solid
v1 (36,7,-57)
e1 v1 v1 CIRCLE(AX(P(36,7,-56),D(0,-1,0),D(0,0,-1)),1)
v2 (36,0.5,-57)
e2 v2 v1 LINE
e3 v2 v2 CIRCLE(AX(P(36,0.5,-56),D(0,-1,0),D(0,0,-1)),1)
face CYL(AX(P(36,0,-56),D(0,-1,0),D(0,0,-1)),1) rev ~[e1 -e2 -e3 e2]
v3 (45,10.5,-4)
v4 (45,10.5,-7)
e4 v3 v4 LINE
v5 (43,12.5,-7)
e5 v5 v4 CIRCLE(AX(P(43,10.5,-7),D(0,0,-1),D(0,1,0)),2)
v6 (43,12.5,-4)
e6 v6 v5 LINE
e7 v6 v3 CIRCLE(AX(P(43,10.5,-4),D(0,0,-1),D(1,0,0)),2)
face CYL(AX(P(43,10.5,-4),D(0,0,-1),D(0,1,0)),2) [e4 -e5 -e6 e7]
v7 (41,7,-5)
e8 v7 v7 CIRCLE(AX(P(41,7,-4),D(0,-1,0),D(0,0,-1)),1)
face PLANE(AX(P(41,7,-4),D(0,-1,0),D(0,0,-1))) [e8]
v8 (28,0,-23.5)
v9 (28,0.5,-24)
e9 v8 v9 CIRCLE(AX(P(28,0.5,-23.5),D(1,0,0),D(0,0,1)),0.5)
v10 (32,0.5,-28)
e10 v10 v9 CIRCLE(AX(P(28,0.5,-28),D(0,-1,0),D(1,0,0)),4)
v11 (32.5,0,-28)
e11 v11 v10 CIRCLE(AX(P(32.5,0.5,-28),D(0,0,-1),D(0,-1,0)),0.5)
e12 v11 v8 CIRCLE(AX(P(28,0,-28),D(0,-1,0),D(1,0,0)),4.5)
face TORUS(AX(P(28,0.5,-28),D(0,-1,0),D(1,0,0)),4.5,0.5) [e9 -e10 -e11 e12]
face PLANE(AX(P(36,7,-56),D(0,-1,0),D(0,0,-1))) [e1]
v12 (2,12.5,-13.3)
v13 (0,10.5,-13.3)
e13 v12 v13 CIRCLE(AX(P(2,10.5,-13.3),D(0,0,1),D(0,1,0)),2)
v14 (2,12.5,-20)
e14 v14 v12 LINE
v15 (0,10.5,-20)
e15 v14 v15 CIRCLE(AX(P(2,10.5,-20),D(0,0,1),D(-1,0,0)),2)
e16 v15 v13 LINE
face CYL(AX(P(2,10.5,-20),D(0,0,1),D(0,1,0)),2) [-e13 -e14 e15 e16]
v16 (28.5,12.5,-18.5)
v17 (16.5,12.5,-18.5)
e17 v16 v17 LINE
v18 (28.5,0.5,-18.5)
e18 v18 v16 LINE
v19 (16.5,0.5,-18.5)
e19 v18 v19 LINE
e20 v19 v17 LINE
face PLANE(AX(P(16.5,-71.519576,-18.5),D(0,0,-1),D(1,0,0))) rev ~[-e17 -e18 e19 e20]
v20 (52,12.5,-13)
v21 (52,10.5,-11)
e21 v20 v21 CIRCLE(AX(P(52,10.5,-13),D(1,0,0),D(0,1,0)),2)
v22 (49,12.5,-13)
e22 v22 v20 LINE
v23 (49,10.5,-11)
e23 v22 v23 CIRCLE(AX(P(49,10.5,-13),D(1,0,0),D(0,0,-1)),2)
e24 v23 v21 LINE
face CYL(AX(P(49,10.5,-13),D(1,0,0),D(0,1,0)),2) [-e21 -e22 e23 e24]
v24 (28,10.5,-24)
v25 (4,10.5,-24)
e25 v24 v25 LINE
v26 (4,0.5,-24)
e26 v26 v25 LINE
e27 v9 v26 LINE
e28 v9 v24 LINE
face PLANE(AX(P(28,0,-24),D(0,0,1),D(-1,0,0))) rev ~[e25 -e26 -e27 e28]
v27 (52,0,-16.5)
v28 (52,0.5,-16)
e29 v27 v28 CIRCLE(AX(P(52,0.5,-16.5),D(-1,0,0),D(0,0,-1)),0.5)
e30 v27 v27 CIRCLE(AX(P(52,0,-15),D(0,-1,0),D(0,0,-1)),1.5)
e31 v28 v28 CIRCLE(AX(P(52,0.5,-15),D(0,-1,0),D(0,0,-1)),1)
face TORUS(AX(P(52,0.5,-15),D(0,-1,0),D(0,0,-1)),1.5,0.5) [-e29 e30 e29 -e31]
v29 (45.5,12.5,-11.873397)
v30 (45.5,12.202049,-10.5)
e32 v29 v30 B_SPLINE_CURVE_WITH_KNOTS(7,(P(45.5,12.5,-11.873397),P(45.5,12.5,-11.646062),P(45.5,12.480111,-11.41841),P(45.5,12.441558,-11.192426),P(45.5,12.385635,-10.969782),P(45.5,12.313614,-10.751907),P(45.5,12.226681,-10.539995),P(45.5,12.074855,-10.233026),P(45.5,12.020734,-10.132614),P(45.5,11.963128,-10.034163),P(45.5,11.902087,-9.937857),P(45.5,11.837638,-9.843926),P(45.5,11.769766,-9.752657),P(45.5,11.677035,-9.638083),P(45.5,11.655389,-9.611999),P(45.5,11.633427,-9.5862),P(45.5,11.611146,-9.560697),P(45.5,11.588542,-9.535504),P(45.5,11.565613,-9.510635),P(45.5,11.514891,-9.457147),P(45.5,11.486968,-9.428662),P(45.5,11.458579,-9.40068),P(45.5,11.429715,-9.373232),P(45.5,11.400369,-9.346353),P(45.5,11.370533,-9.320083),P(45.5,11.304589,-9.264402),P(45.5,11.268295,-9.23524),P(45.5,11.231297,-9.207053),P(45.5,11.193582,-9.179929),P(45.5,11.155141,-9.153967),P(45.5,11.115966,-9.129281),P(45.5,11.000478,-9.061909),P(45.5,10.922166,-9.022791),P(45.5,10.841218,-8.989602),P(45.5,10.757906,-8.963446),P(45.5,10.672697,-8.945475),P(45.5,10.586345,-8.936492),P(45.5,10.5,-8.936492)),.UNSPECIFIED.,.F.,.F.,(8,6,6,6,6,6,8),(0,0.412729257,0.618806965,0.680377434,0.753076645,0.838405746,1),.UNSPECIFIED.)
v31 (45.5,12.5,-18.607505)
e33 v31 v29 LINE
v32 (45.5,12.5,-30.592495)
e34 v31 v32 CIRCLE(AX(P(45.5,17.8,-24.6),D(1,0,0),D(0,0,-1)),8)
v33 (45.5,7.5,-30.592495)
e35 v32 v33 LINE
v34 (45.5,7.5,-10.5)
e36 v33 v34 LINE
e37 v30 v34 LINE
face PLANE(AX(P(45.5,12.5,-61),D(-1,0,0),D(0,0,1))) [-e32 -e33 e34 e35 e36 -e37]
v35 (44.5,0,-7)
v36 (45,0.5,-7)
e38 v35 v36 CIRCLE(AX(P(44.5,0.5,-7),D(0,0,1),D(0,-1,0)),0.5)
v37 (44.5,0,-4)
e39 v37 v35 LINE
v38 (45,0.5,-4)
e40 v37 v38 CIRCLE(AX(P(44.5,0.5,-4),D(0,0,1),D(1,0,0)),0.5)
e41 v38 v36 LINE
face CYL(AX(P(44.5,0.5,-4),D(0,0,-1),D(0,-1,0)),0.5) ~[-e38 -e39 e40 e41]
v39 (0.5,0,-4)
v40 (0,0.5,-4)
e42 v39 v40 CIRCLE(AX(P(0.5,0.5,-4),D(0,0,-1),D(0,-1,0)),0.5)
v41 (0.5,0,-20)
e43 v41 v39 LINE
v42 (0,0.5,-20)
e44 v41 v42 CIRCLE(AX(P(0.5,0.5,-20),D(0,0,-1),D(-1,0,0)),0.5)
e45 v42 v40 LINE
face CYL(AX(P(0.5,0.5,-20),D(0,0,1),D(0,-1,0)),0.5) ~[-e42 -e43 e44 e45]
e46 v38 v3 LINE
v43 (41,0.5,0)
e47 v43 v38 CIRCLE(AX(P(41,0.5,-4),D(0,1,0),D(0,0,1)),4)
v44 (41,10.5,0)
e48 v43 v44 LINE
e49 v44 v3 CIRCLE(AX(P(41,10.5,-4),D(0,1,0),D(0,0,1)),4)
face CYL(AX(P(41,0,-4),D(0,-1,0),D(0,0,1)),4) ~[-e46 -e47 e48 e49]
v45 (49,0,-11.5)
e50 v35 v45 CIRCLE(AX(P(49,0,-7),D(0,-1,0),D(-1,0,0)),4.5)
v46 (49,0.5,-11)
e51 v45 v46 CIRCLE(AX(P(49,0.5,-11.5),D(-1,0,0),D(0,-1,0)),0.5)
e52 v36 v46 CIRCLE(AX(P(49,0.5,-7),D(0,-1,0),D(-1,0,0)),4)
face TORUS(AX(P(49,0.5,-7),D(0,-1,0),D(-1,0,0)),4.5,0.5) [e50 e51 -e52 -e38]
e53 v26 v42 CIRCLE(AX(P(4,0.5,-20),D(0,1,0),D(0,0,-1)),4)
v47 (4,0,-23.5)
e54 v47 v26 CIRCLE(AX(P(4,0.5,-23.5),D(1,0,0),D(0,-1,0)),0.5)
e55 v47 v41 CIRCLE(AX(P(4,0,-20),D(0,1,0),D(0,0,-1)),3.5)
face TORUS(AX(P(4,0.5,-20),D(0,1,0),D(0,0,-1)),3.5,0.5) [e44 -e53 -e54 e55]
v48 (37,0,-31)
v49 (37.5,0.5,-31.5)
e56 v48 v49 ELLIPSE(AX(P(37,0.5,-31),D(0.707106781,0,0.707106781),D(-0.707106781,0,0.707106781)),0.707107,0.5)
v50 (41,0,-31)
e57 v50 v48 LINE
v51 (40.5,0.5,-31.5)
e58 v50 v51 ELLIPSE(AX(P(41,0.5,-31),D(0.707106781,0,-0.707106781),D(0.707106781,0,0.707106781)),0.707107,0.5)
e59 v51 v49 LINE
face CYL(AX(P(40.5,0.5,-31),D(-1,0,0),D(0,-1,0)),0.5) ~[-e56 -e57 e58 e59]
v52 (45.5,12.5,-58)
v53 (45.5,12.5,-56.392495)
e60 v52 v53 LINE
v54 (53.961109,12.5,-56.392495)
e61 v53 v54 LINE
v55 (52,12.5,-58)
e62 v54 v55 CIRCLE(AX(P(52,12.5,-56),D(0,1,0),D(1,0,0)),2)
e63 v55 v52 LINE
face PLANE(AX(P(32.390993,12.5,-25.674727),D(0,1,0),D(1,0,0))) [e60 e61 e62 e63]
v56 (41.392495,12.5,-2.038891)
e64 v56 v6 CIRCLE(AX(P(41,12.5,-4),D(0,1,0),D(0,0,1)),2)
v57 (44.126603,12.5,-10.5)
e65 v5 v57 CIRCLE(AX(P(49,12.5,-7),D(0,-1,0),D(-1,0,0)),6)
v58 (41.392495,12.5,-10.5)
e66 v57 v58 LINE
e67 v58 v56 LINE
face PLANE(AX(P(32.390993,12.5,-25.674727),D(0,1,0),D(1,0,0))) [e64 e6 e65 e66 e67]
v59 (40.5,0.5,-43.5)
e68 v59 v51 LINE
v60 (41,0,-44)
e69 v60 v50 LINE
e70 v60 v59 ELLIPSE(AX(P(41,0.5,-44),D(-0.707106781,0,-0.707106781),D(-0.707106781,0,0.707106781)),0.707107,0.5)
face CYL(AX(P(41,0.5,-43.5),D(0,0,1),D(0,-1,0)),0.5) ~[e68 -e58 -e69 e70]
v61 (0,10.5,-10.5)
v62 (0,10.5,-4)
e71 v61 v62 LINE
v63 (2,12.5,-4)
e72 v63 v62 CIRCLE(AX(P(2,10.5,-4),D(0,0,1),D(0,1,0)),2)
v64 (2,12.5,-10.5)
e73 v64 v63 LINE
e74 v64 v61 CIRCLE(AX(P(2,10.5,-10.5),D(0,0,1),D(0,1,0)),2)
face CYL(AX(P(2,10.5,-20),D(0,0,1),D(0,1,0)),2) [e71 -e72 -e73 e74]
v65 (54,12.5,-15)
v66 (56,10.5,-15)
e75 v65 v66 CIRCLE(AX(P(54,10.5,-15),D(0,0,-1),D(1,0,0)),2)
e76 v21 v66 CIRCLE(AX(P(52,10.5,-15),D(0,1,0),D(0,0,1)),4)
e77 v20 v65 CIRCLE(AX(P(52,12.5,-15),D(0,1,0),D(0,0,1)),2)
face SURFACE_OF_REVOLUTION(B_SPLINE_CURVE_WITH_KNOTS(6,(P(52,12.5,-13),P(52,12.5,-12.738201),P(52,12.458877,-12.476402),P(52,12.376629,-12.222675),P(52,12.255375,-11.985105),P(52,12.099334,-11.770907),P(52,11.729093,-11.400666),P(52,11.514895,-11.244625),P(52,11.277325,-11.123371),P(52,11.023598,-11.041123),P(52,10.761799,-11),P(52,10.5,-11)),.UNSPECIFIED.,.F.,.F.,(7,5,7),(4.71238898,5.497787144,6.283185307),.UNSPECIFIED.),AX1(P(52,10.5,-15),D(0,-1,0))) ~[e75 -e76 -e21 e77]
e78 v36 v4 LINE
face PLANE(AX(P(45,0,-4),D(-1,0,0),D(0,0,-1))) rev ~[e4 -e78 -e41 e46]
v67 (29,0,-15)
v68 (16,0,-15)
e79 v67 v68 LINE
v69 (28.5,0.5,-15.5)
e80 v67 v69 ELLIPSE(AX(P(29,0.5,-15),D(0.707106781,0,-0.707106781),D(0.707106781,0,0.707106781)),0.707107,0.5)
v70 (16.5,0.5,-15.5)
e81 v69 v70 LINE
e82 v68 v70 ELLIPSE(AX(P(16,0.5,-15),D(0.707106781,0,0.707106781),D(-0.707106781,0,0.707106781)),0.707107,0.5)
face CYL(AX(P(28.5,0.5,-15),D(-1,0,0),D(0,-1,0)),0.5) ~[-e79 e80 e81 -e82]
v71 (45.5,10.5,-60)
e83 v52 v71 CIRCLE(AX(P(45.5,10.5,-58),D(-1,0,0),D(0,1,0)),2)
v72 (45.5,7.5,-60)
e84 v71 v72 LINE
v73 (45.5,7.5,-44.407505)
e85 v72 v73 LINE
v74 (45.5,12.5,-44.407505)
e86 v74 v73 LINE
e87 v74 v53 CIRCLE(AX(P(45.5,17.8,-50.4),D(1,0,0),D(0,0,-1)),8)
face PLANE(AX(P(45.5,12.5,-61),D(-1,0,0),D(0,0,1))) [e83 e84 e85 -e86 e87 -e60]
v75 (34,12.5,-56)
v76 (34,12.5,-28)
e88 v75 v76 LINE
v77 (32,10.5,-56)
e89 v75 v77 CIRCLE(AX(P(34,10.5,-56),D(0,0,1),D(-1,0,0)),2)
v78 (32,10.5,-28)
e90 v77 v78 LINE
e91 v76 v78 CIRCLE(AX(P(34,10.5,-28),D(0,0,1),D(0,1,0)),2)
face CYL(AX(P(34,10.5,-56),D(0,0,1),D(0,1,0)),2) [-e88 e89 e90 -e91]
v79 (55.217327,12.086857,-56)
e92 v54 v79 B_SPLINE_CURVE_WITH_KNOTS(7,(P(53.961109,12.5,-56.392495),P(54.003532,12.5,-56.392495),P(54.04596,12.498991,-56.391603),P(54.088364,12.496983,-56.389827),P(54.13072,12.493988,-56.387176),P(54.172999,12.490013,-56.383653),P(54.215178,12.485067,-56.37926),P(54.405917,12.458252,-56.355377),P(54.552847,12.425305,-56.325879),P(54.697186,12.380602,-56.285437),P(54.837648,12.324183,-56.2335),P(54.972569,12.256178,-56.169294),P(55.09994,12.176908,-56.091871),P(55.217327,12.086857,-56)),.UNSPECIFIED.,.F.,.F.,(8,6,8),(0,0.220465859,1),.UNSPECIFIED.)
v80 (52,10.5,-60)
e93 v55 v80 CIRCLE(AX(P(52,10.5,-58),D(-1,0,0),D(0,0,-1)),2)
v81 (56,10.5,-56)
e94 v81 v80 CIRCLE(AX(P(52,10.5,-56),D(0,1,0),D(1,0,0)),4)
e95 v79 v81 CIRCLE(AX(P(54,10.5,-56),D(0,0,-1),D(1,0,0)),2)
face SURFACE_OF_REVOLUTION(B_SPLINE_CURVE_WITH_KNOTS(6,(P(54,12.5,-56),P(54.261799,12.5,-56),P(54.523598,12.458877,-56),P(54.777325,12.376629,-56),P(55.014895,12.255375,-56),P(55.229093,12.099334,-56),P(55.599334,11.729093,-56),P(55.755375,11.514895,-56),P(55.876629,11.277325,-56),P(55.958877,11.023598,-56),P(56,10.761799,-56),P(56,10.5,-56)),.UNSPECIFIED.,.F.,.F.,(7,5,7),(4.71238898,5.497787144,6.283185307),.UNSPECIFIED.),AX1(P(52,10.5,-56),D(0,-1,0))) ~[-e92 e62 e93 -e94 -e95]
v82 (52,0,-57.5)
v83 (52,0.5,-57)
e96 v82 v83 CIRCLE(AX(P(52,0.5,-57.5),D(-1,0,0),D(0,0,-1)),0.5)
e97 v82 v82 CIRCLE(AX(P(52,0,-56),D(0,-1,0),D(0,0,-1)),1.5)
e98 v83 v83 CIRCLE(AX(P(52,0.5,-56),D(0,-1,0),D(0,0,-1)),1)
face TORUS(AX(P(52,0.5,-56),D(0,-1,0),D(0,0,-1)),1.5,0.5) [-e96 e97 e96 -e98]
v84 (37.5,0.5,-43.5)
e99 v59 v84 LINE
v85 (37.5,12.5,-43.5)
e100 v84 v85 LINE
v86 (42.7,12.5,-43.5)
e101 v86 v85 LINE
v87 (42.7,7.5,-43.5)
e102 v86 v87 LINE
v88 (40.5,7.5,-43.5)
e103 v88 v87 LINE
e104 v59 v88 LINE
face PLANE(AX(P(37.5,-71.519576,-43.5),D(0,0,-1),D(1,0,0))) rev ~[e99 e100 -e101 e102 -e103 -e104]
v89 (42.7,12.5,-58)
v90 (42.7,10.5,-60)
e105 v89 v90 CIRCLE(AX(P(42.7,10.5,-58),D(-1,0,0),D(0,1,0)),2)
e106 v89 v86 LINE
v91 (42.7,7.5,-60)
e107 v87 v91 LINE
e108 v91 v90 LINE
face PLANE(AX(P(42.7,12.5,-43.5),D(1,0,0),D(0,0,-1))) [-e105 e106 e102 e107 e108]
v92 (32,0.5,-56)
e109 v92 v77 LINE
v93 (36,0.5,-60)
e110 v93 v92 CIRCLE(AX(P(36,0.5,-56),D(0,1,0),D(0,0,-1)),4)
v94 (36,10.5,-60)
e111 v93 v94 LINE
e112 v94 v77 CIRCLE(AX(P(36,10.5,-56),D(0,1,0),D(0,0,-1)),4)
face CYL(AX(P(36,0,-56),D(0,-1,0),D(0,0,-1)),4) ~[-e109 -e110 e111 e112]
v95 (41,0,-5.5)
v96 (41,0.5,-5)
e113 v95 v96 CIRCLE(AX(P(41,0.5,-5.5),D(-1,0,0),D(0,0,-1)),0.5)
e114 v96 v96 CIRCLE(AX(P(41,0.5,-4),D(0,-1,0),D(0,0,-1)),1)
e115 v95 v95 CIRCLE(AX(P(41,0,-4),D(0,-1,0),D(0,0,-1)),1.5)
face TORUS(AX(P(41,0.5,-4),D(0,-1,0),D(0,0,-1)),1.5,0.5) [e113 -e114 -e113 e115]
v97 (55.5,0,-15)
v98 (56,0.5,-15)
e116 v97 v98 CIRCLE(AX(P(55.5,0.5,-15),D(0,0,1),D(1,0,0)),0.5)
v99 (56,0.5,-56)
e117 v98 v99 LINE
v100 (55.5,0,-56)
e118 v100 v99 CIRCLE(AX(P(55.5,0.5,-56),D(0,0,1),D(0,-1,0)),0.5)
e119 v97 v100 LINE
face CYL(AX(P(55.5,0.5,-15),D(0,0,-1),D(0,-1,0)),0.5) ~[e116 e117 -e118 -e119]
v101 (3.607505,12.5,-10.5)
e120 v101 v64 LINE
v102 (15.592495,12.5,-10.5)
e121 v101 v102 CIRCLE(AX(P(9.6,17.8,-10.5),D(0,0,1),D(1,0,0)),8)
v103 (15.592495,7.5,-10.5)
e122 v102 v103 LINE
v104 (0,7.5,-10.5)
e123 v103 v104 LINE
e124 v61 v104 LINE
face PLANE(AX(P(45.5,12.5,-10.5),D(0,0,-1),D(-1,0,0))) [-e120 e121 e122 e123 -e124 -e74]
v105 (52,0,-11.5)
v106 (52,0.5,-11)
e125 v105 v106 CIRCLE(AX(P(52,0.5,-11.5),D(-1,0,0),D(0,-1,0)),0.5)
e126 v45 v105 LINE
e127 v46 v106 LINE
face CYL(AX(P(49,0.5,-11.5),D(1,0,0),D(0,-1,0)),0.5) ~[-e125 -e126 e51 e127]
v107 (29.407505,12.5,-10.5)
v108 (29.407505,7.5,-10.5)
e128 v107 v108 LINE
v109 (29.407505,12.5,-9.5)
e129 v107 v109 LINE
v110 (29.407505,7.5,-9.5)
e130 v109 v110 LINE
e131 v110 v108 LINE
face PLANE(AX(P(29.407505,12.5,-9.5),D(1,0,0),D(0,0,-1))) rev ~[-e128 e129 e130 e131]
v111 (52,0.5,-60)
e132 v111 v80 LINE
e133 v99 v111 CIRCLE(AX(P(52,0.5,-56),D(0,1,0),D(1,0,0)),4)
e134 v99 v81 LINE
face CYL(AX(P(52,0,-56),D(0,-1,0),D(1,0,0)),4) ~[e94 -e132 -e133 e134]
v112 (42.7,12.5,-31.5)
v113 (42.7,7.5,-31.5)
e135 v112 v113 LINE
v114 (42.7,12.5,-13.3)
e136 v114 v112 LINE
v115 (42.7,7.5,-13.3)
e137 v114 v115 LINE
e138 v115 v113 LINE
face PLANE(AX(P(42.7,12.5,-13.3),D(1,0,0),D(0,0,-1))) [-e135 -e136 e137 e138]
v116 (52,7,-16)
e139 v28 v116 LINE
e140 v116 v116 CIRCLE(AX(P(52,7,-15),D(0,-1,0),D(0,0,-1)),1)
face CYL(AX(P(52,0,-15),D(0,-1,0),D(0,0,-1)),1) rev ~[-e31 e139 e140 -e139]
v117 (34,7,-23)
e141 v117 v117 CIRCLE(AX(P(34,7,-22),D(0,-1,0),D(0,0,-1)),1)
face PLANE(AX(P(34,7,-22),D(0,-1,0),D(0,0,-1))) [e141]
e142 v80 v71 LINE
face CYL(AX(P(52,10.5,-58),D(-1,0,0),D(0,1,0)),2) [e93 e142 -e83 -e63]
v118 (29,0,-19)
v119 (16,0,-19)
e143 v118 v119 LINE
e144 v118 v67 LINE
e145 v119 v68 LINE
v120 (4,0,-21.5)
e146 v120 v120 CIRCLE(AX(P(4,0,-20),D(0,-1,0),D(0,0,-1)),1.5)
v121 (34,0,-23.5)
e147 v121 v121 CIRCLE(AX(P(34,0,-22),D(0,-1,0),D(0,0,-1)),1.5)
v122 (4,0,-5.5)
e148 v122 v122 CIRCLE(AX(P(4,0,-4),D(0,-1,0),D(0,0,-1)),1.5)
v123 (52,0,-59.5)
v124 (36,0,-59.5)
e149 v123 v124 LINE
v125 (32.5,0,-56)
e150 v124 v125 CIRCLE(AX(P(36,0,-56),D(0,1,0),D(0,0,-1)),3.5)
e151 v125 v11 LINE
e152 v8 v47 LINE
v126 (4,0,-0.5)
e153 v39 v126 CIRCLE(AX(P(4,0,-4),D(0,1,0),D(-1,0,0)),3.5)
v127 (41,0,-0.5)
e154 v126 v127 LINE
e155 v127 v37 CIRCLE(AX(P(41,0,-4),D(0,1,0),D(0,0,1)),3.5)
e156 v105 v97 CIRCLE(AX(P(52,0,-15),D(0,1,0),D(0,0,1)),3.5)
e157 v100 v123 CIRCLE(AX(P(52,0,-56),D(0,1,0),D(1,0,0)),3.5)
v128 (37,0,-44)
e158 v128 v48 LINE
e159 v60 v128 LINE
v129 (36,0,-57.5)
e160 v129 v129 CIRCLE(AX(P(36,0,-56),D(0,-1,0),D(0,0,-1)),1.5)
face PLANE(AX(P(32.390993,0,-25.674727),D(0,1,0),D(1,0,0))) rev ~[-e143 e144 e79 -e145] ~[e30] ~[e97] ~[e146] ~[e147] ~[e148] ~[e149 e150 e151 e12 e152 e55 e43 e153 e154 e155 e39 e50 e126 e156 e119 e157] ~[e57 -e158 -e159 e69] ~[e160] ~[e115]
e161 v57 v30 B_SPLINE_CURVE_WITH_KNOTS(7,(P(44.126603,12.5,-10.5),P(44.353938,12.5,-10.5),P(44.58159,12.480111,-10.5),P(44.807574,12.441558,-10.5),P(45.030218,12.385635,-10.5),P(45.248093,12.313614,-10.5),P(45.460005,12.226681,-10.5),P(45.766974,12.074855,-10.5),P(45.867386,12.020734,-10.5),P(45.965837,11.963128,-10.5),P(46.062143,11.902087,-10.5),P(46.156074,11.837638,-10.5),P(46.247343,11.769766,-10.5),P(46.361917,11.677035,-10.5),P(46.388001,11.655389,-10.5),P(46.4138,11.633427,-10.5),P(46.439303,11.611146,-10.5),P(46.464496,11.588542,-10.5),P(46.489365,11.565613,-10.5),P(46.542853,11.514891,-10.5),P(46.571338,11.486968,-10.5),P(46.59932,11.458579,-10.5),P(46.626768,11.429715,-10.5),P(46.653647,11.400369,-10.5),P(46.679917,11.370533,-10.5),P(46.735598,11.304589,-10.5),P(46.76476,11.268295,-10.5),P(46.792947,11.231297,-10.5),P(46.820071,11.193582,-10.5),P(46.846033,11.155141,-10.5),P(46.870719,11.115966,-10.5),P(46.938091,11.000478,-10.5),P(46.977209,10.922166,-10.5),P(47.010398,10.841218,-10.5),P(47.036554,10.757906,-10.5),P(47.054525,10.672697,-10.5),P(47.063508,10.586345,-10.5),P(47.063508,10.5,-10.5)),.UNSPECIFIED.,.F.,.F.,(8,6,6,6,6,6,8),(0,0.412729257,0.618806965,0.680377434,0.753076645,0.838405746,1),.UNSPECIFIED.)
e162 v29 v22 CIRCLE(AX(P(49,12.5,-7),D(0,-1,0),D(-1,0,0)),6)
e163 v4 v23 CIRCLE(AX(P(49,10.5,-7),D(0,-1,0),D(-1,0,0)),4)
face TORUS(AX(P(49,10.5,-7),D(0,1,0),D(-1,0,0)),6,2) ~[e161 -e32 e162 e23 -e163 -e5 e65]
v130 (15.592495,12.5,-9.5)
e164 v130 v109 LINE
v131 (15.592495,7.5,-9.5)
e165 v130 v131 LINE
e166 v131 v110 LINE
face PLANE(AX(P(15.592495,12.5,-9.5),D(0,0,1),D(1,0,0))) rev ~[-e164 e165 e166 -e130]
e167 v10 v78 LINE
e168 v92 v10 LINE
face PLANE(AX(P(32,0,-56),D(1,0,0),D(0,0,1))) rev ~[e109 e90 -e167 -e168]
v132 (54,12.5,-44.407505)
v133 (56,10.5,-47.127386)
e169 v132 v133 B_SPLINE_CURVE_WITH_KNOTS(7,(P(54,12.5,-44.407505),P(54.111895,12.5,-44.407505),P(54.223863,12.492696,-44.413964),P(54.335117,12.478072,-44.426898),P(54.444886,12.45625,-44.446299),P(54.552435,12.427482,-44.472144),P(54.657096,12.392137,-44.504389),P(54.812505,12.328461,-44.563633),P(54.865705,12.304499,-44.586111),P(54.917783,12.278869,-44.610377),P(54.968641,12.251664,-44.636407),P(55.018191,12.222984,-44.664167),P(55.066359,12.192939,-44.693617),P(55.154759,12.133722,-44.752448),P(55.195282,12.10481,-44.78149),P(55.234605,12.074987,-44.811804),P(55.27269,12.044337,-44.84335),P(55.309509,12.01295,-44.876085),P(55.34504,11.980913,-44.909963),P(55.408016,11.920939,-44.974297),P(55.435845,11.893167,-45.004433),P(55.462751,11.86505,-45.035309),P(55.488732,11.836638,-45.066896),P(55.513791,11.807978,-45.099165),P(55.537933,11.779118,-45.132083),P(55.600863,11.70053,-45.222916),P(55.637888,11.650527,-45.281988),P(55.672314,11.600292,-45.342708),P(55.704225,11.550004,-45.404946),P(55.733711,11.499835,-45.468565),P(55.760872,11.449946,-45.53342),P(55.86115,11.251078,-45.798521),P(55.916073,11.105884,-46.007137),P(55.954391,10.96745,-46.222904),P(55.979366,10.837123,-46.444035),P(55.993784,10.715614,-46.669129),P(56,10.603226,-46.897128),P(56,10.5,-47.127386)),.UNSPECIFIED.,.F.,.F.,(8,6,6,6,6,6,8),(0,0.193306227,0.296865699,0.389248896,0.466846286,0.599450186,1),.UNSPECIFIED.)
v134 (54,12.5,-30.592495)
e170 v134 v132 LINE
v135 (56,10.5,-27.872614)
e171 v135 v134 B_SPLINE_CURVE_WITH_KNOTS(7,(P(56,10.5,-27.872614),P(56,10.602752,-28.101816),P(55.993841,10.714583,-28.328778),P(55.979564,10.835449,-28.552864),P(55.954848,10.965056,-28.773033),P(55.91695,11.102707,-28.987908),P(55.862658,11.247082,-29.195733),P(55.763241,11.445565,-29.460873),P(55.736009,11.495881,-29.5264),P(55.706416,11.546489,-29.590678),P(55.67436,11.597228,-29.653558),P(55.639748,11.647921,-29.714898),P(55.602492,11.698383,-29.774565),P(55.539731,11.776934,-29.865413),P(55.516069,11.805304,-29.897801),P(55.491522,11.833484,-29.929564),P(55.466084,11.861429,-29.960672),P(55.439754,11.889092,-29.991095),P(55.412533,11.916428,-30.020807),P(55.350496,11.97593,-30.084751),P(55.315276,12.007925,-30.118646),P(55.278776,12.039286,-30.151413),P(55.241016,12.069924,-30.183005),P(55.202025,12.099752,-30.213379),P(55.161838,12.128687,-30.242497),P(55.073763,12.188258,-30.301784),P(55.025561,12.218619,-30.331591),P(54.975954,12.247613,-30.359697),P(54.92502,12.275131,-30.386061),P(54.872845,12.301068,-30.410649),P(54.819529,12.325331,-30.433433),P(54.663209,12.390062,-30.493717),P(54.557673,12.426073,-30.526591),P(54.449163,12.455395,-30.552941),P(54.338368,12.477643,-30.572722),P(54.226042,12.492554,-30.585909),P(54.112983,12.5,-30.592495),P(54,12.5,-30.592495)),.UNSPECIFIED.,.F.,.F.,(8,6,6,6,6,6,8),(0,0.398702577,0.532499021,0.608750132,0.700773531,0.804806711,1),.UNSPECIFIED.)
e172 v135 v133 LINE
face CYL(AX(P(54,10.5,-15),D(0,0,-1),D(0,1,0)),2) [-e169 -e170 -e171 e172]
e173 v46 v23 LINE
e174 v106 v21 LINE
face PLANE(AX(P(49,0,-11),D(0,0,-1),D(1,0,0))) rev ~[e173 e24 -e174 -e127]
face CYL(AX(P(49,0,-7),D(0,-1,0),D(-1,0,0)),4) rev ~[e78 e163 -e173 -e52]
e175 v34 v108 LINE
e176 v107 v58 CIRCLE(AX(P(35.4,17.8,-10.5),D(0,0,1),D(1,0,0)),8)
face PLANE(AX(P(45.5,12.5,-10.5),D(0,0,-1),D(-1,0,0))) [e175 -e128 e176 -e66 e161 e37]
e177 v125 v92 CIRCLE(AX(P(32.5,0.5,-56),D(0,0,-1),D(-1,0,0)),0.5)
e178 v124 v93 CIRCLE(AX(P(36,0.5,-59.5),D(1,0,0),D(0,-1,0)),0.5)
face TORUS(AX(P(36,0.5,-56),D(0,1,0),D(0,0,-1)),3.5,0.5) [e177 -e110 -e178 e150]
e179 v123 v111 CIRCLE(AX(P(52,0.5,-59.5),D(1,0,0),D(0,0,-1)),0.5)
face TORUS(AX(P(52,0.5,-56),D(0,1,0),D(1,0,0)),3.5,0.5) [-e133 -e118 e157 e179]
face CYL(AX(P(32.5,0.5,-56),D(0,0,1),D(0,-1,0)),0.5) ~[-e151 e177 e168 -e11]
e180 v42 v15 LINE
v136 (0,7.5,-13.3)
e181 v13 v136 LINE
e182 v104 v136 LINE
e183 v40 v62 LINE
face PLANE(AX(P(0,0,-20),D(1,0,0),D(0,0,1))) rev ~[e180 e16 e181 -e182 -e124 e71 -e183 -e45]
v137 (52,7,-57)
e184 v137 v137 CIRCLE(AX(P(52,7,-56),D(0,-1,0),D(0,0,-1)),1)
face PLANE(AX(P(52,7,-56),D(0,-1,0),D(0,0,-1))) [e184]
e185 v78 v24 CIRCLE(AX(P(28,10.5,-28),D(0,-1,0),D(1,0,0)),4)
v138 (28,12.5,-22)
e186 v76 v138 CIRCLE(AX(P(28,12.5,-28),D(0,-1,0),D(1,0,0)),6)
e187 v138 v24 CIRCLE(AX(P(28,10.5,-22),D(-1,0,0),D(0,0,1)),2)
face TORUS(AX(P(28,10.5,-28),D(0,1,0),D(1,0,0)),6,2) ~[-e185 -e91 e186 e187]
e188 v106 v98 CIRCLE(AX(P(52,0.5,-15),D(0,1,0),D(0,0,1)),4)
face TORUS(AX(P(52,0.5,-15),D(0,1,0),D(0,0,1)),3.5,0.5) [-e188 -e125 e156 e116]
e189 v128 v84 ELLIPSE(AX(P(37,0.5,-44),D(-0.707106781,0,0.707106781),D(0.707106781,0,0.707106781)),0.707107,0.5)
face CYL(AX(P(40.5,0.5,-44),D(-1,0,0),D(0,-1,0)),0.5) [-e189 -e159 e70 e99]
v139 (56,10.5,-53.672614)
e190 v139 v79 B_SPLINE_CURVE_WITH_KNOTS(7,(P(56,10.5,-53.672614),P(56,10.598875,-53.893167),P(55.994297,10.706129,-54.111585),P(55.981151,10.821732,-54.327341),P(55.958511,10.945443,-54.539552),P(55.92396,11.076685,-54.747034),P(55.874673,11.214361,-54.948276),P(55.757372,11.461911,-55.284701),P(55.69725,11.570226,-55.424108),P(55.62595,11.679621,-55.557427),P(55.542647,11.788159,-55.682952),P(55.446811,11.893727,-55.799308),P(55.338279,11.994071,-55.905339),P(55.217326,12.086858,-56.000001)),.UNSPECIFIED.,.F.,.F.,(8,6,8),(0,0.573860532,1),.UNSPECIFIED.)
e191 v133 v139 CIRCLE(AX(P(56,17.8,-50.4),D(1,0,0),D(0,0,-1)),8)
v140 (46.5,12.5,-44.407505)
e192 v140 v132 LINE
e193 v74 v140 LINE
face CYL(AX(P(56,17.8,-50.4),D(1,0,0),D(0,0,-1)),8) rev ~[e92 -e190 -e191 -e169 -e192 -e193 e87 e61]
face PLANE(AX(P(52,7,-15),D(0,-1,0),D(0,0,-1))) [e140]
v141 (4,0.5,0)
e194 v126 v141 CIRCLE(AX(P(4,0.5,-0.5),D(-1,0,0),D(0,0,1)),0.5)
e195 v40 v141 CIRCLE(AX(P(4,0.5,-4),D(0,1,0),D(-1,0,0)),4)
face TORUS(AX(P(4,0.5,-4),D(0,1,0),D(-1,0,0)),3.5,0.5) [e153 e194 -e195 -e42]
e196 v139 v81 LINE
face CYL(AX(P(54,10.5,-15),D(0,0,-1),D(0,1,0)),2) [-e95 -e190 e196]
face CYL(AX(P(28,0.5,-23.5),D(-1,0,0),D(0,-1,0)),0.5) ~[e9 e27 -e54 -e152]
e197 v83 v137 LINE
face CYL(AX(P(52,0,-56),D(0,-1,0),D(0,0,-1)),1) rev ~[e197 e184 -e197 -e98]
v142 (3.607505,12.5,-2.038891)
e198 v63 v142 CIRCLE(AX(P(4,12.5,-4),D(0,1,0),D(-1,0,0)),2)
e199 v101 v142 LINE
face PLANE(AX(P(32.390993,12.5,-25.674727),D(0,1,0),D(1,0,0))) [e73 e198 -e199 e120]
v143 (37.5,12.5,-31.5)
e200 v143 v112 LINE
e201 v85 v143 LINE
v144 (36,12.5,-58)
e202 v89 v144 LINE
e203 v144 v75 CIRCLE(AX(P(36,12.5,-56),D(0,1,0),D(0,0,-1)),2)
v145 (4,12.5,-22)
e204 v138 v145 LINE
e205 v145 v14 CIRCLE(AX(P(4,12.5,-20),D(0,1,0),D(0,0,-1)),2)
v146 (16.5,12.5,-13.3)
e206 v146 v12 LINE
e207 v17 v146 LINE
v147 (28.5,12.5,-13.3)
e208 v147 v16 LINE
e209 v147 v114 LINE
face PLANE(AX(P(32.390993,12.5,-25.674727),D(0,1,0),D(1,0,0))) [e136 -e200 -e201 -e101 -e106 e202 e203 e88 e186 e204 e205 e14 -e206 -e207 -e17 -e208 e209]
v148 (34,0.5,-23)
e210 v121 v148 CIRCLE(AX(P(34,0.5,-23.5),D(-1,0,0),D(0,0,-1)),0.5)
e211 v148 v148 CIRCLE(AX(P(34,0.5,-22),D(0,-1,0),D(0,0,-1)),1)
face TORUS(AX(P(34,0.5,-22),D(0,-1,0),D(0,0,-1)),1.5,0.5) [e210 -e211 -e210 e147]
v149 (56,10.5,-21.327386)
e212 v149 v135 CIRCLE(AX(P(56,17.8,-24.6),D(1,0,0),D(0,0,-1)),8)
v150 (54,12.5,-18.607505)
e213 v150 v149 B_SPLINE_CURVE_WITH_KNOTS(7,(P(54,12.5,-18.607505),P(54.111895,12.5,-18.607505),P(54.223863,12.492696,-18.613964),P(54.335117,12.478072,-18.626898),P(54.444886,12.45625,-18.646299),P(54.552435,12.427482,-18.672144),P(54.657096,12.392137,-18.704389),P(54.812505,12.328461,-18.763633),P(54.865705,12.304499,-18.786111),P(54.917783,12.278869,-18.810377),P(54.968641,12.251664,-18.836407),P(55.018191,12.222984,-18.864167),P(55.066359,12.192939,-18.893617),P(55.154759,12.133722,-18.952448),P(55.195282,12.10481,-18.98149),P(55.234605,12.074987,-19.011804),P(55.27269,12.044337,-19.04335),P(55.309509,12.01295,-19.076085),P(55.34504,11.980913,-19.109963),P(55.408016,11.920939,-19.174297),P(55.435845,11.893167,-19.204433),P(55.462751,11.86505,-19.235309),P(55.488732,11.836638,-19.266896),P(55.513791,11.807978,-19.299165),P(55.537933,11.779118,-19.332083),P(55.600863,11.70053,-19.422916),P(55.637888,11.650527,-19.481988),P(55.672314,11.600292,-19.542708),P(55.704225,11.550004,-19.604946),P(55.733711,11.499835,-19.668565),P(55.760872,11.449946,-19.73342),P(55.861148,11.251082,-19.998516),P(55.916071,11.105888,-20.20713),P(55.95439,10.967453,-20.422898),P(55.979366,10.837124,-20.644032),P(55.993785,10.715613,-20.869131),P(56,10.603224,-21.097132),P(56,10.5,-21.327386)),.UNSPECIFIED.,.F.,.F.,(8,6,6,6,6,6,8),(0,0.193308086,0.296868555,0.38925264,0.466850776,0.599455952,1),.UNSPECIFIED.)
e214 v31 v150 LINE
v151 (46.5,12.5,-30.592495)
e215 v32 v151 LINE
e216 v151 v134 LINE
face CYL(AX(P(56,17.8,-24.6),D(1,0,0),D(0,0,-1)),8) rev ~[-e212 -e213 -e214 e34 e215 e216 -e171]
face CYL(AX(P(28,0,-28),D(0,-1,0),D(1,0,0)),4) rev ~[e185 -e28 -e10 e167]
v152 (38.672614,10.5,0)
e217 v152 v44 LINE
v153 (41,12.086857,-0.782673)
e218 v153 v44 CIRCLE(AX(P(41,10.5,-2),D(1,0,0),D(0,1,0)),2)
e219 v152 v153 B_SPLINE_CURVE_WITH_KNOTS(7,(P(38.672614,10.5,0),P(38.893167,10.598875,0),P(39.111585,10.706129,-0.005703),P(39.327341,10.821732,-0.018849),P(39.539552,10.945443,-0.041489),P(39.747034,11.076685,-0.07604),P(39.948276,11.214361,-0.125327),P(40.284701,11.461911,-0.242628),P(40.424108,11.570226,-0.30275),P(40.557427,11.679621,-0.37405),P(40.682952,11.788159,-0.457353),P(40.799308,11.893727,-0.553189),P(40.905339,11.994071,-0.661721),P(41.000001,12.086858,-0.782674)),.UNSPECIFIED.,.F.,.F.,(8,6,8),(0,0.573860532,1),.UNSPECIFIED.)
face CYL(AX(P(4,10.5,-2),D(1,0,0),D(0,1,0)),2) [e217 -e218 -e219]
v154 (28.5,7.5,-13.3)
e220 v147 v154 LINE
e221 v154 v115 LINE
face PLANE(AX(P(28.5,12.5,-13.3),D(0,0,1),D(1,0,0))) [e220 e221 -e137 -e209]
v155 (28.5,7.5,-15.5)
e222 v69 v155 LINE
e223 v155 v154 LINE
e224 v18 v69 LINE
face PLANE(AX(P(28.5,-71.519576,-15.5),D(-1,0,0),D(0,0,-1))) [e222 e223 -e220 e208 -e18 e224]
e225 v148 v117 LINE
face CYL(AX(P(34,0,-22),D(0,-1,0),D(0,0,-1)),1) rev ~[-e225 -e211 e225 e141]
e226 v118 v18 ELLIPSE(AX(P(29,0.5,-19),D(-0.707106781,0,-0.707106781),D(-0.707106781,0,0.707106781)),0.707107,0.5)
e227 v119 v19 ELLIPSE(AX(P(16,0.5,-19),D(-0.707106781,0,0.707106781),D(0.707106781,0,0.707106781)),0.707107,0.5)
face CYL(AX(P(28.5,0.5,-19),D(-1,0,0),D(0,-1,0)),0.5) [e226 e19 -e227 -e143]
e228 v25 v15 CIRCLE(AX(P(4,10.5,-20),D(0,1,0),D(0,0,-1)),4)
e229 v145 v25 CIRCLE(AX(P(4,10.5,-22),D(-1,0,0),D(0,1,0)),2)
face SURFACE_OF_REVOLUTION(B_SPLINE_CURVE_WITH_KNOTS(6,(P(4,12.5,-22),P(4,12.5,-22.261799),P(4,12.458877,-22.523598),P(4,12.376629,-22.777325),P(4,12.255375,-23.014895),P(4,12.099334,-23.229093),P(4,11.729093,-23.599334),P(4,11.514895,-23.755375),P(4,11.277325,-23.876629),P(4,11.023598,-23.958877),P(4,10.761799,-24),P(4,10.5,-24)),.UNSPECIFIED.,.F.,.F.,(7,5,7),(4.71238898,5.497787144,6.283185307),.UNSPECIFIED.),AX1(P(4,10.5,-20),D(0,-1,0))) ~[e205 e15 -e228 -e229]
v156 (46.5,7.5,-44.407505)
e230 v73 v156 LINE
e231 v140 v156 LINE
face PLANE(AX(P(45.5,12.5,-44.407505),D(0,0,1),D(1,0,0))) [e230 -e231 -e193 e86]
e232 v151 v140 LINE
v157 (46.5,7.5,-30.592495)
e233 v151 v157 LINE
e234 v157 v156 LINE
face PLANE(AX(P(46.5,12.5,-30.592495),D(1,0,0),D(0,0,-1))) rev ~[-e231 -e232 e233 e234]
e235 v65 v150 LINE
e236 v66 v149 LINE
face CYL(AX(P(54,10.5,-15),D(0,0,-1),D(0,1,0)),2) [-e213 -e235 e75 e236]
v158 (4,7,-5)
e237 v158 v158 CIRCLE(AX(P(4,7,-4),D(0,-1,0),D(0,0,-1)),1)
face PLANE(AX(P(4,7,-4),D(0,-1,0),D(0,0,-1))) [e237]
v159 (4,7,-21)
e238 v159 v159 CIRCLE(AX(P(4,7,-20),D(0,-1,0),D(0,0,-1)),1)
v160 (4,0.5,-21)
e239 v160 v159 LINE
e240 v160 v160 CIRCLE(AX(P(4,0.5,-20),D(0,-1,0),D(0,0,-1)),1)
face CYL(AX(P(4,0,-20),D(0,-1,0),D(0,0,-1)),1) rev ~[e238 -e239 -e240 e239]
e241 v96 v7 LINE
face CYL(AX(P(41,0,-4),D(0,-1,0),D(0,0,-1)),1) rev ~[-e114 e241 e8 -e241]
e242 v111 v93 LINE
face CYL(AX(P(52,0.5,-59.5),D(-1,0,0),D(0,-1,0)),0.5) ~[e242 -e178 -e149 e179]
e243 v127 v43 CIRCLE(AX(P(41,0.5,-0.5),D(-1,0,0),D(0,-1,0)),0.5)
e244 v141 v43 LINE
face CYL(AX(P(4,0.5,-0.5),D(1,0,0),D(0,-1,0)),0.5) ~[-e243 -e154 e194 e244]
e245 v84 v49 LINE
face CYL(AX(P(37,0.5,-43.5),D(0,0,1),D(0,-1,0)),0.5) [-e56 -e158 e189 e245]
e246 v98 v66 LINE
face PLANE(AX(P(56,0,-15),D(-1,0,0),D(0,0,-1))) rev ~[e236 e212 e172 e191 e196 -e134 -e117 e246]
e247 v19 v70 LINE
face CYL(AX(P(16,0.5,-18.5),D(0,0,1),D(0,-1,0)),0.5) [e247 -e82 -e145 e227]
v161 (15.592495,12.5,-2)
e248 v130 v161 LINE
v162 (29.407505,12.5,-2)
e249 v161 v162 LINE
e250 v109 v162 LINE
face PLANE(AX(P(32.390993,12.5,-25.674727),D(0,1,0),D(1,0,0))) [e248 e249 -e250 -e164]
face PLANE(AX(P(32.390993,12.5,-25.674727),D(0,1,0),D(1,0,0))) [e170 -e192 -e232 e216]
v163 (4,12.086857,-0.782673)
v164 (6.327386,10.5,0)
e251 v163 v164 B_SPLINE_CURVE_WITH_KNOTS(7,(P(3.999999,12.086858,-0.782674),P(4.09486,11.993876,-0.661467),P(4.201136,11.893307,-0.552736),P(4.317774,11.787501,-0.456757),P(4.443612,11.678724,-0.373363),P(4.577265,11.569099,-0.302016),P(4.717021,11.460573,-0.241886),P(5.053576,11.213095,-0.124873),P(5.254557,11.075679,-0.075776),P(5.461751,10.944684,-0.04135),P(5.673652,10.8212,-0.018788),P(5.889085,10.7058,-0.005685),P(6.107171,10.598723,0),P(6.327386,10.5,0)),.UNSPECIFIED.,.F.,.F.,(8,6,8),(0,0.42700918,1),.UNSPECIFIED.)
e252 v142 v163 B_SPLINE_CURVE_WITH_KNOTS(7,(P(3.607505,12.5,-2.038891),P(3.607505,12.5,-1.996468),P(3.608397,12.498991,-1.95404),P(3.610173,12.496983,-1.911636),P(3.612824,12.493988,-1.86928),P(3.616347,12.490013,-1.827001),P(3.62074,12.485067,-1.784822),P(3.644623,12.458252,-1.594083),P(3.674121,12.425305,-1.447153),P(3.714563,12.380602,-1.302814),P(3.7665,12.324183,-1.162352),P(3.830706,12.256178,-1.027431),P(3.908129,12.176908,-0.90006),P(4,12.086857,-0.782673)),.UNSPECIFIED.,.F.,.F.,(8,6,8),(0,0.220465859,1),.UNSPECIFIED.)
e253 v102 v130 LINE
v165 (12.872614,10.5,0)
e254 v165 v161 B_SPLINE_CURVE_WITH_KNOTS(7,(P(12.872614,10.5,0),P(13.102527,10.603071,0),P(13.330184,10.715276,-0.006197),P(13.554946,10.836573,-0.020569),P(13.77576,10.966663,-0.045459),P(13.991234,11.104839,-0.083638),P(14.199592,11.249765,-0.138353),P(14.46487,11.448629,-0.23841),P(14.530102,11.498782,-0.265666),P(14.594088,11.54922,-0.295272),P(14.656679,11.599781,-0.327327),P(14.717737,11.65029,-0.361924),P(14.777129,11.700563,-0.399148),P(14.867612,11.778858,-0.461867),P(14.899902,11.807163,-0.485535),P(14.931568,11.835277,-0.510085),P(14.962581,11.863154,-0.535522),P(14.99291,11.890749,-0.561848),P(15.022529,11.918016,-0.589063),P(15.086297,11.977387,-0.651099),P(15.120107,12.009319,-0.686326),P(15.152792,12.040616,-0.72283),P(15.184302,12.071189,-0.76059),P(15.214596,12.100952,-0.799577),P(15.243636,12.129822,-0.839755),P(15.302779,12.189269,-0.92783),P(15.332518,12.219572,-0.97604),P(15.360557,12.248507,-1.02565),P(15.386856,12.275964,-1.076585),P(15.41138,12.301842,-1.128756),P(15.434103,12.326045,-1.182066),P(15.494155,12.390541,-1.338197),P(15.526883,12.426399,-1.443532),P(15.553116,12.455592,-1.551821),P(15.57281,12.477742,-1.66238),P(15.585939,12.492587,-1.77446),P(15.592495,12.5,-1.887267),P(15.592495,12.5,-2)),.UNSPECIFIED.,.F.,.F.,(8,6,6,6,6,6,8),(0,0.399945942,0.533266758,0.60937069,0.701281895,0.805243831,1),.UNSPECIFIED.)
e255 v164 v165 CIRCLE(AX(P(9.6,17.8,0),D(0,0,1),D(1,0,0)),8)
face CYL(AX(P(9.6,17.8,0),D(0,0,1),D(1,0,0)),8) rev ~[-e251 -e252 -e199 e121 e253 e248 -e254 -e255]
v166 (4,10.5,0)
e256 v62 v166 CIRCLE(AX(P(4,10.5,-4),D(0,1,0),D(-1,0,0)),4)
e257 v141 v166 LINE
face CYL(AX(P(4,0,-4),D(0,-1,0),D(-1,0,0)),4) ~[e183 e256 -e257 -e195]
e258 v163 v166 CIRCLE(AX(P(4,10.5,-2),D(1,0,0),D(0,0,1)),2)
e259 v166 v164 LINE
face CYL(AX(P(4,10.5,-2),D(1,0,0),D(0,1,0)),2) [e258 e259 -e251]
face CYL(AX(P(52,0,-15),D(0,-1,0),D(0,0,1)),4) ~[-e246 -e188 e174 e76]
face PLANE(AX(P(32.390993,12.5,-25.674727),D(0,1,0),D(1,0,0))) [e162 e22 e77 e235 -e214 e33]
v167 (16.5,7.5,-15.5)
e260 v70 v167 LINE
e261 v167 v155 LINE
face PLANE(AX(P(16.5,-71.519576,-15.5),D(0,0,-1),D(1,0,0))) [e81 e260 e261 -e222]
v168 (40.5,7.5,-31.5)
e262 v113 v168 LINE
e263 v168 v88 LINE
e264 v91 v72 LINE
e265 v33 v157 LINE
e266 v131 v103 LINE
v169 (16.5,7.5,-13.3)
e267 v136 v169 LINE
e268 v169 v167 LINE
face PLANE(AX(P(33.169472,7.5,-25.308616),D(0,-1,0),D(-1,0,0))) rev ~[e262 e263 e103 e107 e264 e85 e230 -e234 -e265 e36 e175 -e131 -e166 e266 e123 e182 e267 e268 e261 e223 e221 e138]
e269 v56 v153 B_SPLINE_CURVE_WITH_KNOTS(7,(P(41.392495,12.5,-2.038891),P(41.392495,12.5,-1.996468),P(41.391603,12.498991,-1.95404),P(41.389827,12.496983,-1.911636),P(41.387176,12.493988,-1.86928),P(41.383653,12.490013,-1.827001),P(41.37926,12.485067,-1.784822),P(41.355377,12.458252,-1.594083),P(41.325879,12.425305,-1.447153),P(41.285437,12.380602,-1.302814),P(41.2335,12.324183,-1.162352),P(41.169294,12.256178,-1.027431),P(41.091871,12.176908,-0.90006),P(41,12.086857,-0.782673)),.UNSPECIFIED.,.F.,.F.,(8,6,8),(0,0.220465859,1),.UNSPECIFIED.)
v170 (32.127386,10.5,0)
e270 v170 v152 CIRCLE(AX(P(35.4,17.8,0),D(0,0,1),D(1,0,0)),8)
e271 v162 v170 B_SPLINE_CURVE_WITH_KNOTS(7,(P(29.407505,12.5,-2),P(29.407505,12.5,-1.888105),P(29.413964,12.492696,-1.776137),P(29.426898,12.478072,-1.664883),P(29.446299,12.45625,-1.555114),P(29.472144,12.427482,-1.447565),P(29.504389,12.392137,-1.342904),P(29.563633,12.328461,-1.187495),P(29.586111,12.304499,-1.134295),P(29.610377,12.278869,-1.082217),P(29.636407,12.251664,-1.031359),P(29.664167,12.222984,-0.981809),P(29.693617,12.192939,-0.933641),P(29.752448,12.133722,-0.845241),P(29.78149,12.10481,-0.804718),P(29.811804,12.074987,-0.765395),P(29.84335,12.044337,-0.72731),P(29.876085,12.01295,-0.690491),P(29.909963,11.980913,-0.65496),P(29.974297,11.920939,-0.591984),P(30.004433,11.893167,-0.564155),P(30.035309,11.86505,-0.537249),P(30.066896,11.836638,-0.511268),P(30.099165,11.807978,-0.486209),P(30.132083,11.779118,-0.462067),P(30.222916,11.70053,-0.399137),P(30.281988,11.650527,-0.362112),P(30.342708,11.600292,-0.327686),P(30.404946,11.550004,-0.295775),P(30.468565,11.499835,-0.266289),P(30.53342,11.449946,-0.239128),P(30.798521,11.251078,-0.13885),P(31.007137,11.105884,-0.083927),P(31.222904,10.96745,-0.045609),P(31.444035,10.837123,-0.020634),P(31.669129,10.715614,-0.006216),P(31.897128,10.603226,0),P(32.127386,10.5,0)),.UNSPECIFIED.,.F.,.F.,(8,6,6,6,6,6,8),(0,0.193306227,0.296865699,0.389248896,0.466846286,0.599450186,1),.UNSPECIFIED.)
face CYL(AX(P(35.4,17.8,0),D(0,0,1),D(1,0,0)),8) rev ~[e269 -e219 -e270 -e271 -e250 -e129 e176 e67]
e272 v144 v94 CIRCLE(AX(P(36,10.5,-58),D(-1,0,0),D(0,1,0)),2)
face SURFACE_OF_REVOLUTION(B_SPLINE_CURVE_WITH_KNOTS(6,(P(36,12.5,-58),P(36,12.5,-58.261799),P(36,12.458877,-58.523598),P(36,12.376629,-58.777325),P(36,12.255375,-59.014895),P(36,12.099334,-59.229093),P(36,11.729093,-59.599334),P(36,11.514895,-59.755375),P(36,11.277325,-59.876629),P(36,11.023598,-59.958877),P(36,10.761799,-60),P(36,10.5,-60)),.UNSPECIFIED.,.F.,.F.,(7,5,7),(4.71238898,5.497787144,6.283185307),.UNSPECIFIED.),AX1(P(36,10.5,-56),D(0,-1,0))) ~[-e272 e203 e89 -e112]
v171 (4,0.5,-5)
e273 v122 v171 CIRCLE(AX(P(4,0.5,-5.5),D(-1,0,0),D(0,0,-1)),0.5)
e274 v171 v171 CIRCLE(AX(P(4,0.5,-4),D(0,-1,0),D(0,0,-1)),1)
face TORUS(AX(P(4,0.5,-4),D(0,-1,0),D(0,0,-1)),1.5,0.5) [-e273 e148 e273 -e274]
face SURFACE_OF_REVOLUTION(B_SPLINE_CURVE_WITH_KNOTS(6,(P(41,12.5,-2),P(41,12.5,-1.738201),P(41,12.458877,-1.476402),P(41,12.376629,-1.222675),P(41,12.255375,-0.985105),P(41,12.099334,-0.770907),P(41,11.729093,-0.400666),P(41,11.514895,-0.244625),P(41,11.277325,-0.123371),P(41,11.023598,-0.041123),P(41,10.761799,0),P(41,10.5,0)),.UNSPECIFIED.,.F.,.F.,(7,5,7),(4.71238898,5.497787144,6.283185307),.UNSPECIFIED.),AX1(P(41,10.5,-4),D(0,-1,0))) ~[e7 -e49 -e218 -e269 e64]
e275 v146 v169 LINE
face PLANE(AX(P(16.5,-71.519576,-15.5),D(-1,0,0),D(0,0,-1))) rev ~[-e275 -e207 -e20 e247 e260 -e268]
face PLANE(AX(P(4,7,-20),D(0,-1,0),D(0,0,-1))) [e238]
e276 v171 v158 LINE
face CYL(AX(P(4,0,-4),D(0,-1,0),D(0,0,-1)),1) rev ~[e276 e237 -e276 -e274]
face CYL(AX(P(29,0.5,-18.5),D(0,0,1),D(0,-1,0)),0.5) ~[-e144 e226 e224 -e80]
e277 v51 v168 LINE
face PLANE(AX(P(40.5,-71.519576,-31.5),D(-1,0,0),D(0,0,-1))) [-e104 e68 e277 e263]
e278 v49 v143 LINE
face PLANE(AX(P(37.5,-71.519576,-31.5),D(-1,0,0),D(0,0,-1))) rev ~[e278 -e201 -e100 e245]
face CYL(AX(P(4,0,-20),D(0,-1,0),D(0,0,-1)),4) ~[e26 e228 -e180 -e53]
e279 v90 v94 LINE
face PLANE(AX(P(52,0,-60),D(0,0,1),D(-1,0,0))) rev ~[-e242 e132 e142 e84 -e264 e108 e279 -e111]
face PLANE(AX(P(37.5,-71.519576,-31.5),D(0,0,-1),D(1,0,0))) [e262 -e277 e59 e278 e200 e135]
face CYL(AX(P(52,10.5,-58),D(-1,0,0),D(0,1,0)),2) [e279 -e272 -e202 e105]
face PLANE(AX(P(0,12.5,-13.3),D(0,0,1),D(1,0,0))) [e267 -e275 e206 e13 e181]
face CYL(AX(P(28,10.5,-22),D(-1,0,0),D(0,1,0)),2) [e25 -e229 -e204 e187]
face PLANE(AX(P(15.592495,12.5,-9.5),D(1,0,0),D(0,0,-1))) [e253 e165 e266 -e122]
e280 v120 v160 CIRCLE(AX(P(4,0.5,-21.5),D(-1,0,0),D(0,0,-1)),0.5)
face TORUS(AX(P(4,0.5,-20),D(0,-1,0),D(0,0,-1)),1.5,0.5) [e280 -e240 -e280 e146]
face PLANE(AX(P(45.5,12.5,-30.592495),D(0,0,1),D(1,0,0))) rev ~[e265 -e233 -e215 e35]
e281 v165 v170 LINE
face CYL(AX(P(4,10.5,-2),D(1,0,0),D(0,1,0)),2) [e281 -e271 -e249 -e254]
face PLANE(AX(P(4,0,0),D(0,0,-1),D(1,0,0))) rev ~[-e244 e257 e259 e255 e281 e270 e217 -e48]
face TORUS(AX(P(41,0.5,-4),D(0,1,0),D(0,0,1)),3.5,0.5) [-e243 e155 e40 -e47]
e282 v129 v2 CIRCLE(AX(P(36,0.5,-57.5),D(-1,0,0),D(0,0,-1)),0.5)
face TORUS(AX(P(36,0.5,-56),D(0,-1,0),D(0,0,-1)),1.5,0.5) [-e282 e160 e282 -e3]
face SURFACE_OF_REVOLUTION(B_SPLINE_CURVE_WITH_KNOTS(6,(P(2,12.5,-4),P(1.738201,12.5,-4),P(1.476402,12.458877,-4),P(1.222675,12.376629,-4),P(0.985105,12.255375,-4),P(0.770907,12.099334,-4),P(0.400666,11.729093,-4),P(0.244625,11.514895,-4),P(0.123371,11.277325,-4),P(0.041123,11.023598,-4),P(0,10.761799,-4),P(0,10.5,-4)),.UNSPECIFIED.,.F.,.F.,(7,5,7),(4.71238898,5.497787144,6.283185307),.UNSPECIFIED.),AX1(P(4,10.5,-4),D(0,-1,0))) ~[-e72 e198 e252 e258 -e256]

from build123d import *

# Parameters (mm, degrees)
EXTRUDE_677_DEPTH        = 12.5
SKETCH_6_R               = 1
CUT_EXTRUDE_1132_DEPTH   = 7
FILLET_1_R               = 2
CUT_EXTRUDE_1_DEPTH      = 84.019576005
CUT_EXTRUDE_1_DEPTH_BACK = 84.019576005
SKETCH_7_W               = 12
SKETCH_7_H               = 3
SKETCH_7_W_2             = 3
SKETCH_7_H_2             = 12
CUT_EXTRUDE_2_DEPTH      = 5
CUT_EXTRUDE_3_REACH      = 85.02
SKETCH_9_R               = 8
CUT_EXTRUDE_4_REACH      = 85.02
SKETCH_10_R              = 8
SKETCH_11_W              = 13.815009386
SKETCH_11_H              = 1
SKETCH_11_W_2            = 1
SKETCH_11_H_2            = 13.815009386
CUT_EXTRUDE_7_DEPTH      = 5
FILLET_2_R               = 0.5


with BuildPart() as part:
    # Эскиз1 → Extrude 677 (new body)
    with BuildSketch(Plane(origin=(0, 0, 0), x_dir=(1, 0, 0), z_dir=(0, 1, 0))):
        with BuildLine():
            Line((4, 0), (41, 0))
            ThreePointArc((41, 0), (43.828427125, 1.171572875), (45, 4))
            Line((45, 4), (45, 7))
            ThreePointArc((45, 7), (46.171572875, 9.828427125), (49, 11))
            Line((49, 11), (52, 11))
            ThreePointArc((52, 11), (54.828427125, 12.171572875), (56, 15))
            Line((56, 15), (56, 56))
            ThreePointArc((56, 56), (54.828427125, 58.828427125), (52, 60))
            Line((52, 60), (36, 60))
            ThreePointArc((36, 60), (33.171572875, 58.828427125), (32, 56))
            Line((32, 56), (32, 28))
            ThreePointArc((32, 28), (30.828427125, 25.171572875), (28, 24))
            Line((28, 24), (4, 24))
            ThreePointArc((4, 24), (1.171572875, 22.828427125), (0, 20))
            Line((0, 20), (0, 4))
            ThreePointArc((0, 4), (1.171572875, 1.171572875), (4, 0))
        make_face()
    extrude(amount=EXTRUDE_677_DEPTH)

    # Эскиз6 → Cut-Extrude 1132 (cut)
    with BuildSketch(Plane.XZ):
        with Locations(Location((4, -4, 0), (0, 0, 270))):
            Circle(SKETCH_6_R)
        with Locations(Location((41, -4, 0), (0, 0, 270))):
            Circle(SKETCH_6_R)
        with Locations(Location((52, -15, 0), (0, 0, 270))):
            Circle(SKETCH_6_R)
        with Locations(Location((4, -20, 0), (0, 0, 270))):
            Circle(SKETCH_6_R)
        with Locations(Location((36, -56, 0), (0, 0, 270))):
            Circle(SKETCH_6_R)
        with Locations(Location((52, -56, 0), (0, 0, 270))):
            Circle(SKETCH_6_R)
        with Locations(Location((34, -22, 0), (0, 0, 270))):
            Circle(SKETCH_6_R)
    extrude(amount=-CUT_EXTRUDE_1132_DEPTH, mode=Mode.SUBTRACT)

    # Скругление1
    fillet_1_edges = [part.edges().sort_by_distance(p)[0] for p in [
        (54.828427125, 12.5, -58.828427125),
        (44, 12.5, -60),
        (33.171572875, 12.5, -58.828427125),
        (32, 12.5, -42),
        (30.828427125, 12.5, -25.171572875),
        (16, 12.5, -24),
        (1.171572875, 12.5, -22.828427125),
        (0, 12.5, -12),
        (1.171572875, 12.5, -1.171572875),
        (22.5, 12.5, 0),
        (54.828427125, 12.5, -12.171572875),
        (43.828427125, 12.5, -1.171572875),
        (45, 12.5, -5.5),
        (46.171572875, 12.5, -9.828427125),
        (50.5, 12.5, -11),
        (56, 12.5, -35.5),
    ]]
    fillet(fillet_1_edges, radius=FILLET_1_R)

    # Эскиз7 → Вырез-Вытянуть1 (cut, two sides: drawn at the far end of the back side and taken through both)
    with BuildSketch(Plane(origin=(0, 12.5, 0), x_dir=(1, 0, 0), z_dir=(0, 1, 0)).offset(-CUT_EXTRUDE_1_DEPTH_BACK)):
        with Locations((22.5, 17)):
            Rectangle(SKETCH_7_W, SKETCH_7_H)
        with Locations((39, 37.5)):
            Rectangle(SKETCH_7_W_2, SKETCH_7_H_2)
    extrude(amount=CUT_EXTRUDE_1_DEPTH + CUT_EXTRUDE_1_DEPTH_BACK, mode=Mode.SUBTRACT)

    # Эскиз8 → Вырез-Вытянуть2 (cut)
    with BuildSketch(Plane(origin=(0, 12.5, 0), x_dir=(1, 0, 0), z_dir=(0, 1, 0))):
        Polygon((0, 13.3), (16.5, 13.3), (16.5, 15.5), (28.5, 15.5), (28.5, 13.3), (42.7, 13.3), (42.7, 31.5), (40.5, 31.5), (40.5, 43.5), (42.7, 43.5), (42.7, 61), (45.5, 61), (45.5, 10.5), (0, 10.5), align=None)
    extrude(amount=-CUT_EXTRUDE_2_DEPTH, mode=Mode.SUBTRACT)

    # Вырез-Вытянуть3: up to this face of the body (flat: up to its plane)
    cut_extrude_3_end = Plane(part.part.faces().sort_by_distance((8.332046161, 9.978411286, -13.3))[0])
    # Эскиз9 → Вырез-Вытянуть3 (cut, up to the picked face)
    with BuildSketch(Plane.XY, mode=Mode.PRIVATE) as cut_extrude_3_sk1:
        with Locations((9.6, 17.8)):
            Circle(SKETCH_9_R)
    cut_extrude_3_tool1 = split(extrude(cut_extrude_3_sk1.sketch, amount=-CUT_EXTRUDE_3_REACH, mode=Mode.PRIVATE), bisect_by=cut_extrude_3_end, keep=Keep.BOTH, mode=Mode.PRIVATE)
    # Эскиз9 → Вырез-Вытянуть3 (cut, up to the picked face)
    with BuildSketch(Plane.XY, mode=Mode.PRIVATE) as cut_extrude_3_sk2:
        with Locations((35.4, 17.8)):
            Circle(SKETCH_9_R)
    cut_extrude_3_tool2 = split(extrude(cut_extrude_3_sk2.sketch, amount=-CUT_EXTRUDE_3_REACH, mode=Mode.PRIVATE), bisect_by=cut_extrude_3_end, keep=Keep.BOTH, mode=Mode.PRIVATE)
    add(cut_extrude_3_tool1.solids().sort_by(Axis((9.6, 17.8, 0), (0, 0, -1)))[0], mode=Mode.SUBTRACT)
    add(cut_extrude_3_tool2.solids().sort_by(Axis((35.4, 17.8, 0), (0, 0, -1)))[0], mode=Mode.SUBTRACT)

    # Вырез-Вытянуть4: up to this face of the body (flat: up to its plane)
    cut_extrude_4_end = Plane(part.part.faces().sort_by_distance((42.7, 10, -22.4))[0])
    # Эскиз10 → Вырез-Вытянуть4 (cut, up to the picked face)
    with BuildSketch(Plane(origin=(56, 0, 0), x_dir=(0, 0, -1), z_dir=(1, 0, 0)), mode=Mode.PRIVATE) as cut_extrude_4_sk1:
        with Locations((24.6, 17.8)):
            Circle(SKETCH_10_R)
    cut_extrude_4_tool1 = split(extrude(cut_extrude_4_sk1.sketch, amount=-CUT_EXTRUDE_4_REACH, mode=Mode.PRIVATE), bisect_by=cut_extrude_4_end, keep=Keep.BOTH, mode=Mode.PRIVATE)
    # Эскиз10 → Вырез-Вытянуть4 (cut, up to the picked face)
    with BuildSketch(Plane(origin=(56, 0, 0), x_dir=(0, 0, -1), z_dir=(1, 0, 0)), mode=Mode.PRIVATE) as cut_extrude_4_sk2:
        with Locations((50.4, 17.8)):
            Circle(SKETCH_10_R)
    cut_extrude_4_tool2 = split(extrude(cut_extrude_4_sk2.sketch, amount=-CUT_EXTRUDE_4_REACH, mode=Mode.PRIVATE), bisect_by=cut_extrude_4_end, keep=Keep.BOTH, mode=Mode.PRIVATE)
    add(cut_extrude_4_tool1.solids().sort_by(Axis((56, 17.8, -24.6), (-1, 0, 0)))[0], mode=Mode.SUBTRACT)
    add(cut_extrude_4_tool2.solids().sort_by(Axis((56, 17.8, -50.4), (-1, 0, 0)))[0], mode=Mode.SUBTRACT)

    # Эскиз11 → Вырез-Вытянуть7 (cut)
    with BuildSketch(Plane(origin=(0, 12.5, 0), x_dir=(1, 0, 0), z_dir=(0, 1, 0))):
        with Locations((22.5, 10)):
            Rectangle(SKETCH_11_W, SKETCH_11_H)
        with Locations((46, 37.5)):
            Rectangle(SKETCH_11_W_2, SKETCH_11_H_2)
    extrude(amount=-CUT_EXTRUDE_7_DEPTH, mode=Mode.SUBTRACT)

    # Скругление2
    fillet_2_edges = [part.edges().sort_by_distance(p)[0] for p in [
        (16.5, 0, -17),
        (22.5, 0, -18.5),
        (28.5, 0, -17),
        (22.5, 0, -15.5),
        (37.5, 0, -37.5),
        (39, 0, -43.5),
        (40.5, 0, -37.5),
        (39, 0, -31.5),
        (50.5, 0, -11),
        (46.171572875, 0, -9.828427125),
        (45, 0, -5.5),
        (43.828427125, 0, -1.171572875),
        (22.5, 0, 0),
        (1.171572875, 0, -1.171572875),
        (0, 0, -12),
        (1.171572875, 0, -22.828427125),
        (16, 0, -24),
        (30.828427125, 0, -25.171572875),
        (32, 0, -42),
        (33.171572875, 0, -58.828427125),
        (44, 0, -60),
        (54.828427125, 0, -58.828427125),
        (56, 0, -35.5),
        (54.828427125, 0, -12.171572875),
        (41, 0, -3),
        (52, 0, -14),
        (4, 0, -19),
        (52, 0, -55),
        (34, 0, -21),
        (36, 0, -55),
        (4, 0, -3),
    ]]
    fillet(fillet_2_edges, radius=FILLET_2_R)


solid = part.part
